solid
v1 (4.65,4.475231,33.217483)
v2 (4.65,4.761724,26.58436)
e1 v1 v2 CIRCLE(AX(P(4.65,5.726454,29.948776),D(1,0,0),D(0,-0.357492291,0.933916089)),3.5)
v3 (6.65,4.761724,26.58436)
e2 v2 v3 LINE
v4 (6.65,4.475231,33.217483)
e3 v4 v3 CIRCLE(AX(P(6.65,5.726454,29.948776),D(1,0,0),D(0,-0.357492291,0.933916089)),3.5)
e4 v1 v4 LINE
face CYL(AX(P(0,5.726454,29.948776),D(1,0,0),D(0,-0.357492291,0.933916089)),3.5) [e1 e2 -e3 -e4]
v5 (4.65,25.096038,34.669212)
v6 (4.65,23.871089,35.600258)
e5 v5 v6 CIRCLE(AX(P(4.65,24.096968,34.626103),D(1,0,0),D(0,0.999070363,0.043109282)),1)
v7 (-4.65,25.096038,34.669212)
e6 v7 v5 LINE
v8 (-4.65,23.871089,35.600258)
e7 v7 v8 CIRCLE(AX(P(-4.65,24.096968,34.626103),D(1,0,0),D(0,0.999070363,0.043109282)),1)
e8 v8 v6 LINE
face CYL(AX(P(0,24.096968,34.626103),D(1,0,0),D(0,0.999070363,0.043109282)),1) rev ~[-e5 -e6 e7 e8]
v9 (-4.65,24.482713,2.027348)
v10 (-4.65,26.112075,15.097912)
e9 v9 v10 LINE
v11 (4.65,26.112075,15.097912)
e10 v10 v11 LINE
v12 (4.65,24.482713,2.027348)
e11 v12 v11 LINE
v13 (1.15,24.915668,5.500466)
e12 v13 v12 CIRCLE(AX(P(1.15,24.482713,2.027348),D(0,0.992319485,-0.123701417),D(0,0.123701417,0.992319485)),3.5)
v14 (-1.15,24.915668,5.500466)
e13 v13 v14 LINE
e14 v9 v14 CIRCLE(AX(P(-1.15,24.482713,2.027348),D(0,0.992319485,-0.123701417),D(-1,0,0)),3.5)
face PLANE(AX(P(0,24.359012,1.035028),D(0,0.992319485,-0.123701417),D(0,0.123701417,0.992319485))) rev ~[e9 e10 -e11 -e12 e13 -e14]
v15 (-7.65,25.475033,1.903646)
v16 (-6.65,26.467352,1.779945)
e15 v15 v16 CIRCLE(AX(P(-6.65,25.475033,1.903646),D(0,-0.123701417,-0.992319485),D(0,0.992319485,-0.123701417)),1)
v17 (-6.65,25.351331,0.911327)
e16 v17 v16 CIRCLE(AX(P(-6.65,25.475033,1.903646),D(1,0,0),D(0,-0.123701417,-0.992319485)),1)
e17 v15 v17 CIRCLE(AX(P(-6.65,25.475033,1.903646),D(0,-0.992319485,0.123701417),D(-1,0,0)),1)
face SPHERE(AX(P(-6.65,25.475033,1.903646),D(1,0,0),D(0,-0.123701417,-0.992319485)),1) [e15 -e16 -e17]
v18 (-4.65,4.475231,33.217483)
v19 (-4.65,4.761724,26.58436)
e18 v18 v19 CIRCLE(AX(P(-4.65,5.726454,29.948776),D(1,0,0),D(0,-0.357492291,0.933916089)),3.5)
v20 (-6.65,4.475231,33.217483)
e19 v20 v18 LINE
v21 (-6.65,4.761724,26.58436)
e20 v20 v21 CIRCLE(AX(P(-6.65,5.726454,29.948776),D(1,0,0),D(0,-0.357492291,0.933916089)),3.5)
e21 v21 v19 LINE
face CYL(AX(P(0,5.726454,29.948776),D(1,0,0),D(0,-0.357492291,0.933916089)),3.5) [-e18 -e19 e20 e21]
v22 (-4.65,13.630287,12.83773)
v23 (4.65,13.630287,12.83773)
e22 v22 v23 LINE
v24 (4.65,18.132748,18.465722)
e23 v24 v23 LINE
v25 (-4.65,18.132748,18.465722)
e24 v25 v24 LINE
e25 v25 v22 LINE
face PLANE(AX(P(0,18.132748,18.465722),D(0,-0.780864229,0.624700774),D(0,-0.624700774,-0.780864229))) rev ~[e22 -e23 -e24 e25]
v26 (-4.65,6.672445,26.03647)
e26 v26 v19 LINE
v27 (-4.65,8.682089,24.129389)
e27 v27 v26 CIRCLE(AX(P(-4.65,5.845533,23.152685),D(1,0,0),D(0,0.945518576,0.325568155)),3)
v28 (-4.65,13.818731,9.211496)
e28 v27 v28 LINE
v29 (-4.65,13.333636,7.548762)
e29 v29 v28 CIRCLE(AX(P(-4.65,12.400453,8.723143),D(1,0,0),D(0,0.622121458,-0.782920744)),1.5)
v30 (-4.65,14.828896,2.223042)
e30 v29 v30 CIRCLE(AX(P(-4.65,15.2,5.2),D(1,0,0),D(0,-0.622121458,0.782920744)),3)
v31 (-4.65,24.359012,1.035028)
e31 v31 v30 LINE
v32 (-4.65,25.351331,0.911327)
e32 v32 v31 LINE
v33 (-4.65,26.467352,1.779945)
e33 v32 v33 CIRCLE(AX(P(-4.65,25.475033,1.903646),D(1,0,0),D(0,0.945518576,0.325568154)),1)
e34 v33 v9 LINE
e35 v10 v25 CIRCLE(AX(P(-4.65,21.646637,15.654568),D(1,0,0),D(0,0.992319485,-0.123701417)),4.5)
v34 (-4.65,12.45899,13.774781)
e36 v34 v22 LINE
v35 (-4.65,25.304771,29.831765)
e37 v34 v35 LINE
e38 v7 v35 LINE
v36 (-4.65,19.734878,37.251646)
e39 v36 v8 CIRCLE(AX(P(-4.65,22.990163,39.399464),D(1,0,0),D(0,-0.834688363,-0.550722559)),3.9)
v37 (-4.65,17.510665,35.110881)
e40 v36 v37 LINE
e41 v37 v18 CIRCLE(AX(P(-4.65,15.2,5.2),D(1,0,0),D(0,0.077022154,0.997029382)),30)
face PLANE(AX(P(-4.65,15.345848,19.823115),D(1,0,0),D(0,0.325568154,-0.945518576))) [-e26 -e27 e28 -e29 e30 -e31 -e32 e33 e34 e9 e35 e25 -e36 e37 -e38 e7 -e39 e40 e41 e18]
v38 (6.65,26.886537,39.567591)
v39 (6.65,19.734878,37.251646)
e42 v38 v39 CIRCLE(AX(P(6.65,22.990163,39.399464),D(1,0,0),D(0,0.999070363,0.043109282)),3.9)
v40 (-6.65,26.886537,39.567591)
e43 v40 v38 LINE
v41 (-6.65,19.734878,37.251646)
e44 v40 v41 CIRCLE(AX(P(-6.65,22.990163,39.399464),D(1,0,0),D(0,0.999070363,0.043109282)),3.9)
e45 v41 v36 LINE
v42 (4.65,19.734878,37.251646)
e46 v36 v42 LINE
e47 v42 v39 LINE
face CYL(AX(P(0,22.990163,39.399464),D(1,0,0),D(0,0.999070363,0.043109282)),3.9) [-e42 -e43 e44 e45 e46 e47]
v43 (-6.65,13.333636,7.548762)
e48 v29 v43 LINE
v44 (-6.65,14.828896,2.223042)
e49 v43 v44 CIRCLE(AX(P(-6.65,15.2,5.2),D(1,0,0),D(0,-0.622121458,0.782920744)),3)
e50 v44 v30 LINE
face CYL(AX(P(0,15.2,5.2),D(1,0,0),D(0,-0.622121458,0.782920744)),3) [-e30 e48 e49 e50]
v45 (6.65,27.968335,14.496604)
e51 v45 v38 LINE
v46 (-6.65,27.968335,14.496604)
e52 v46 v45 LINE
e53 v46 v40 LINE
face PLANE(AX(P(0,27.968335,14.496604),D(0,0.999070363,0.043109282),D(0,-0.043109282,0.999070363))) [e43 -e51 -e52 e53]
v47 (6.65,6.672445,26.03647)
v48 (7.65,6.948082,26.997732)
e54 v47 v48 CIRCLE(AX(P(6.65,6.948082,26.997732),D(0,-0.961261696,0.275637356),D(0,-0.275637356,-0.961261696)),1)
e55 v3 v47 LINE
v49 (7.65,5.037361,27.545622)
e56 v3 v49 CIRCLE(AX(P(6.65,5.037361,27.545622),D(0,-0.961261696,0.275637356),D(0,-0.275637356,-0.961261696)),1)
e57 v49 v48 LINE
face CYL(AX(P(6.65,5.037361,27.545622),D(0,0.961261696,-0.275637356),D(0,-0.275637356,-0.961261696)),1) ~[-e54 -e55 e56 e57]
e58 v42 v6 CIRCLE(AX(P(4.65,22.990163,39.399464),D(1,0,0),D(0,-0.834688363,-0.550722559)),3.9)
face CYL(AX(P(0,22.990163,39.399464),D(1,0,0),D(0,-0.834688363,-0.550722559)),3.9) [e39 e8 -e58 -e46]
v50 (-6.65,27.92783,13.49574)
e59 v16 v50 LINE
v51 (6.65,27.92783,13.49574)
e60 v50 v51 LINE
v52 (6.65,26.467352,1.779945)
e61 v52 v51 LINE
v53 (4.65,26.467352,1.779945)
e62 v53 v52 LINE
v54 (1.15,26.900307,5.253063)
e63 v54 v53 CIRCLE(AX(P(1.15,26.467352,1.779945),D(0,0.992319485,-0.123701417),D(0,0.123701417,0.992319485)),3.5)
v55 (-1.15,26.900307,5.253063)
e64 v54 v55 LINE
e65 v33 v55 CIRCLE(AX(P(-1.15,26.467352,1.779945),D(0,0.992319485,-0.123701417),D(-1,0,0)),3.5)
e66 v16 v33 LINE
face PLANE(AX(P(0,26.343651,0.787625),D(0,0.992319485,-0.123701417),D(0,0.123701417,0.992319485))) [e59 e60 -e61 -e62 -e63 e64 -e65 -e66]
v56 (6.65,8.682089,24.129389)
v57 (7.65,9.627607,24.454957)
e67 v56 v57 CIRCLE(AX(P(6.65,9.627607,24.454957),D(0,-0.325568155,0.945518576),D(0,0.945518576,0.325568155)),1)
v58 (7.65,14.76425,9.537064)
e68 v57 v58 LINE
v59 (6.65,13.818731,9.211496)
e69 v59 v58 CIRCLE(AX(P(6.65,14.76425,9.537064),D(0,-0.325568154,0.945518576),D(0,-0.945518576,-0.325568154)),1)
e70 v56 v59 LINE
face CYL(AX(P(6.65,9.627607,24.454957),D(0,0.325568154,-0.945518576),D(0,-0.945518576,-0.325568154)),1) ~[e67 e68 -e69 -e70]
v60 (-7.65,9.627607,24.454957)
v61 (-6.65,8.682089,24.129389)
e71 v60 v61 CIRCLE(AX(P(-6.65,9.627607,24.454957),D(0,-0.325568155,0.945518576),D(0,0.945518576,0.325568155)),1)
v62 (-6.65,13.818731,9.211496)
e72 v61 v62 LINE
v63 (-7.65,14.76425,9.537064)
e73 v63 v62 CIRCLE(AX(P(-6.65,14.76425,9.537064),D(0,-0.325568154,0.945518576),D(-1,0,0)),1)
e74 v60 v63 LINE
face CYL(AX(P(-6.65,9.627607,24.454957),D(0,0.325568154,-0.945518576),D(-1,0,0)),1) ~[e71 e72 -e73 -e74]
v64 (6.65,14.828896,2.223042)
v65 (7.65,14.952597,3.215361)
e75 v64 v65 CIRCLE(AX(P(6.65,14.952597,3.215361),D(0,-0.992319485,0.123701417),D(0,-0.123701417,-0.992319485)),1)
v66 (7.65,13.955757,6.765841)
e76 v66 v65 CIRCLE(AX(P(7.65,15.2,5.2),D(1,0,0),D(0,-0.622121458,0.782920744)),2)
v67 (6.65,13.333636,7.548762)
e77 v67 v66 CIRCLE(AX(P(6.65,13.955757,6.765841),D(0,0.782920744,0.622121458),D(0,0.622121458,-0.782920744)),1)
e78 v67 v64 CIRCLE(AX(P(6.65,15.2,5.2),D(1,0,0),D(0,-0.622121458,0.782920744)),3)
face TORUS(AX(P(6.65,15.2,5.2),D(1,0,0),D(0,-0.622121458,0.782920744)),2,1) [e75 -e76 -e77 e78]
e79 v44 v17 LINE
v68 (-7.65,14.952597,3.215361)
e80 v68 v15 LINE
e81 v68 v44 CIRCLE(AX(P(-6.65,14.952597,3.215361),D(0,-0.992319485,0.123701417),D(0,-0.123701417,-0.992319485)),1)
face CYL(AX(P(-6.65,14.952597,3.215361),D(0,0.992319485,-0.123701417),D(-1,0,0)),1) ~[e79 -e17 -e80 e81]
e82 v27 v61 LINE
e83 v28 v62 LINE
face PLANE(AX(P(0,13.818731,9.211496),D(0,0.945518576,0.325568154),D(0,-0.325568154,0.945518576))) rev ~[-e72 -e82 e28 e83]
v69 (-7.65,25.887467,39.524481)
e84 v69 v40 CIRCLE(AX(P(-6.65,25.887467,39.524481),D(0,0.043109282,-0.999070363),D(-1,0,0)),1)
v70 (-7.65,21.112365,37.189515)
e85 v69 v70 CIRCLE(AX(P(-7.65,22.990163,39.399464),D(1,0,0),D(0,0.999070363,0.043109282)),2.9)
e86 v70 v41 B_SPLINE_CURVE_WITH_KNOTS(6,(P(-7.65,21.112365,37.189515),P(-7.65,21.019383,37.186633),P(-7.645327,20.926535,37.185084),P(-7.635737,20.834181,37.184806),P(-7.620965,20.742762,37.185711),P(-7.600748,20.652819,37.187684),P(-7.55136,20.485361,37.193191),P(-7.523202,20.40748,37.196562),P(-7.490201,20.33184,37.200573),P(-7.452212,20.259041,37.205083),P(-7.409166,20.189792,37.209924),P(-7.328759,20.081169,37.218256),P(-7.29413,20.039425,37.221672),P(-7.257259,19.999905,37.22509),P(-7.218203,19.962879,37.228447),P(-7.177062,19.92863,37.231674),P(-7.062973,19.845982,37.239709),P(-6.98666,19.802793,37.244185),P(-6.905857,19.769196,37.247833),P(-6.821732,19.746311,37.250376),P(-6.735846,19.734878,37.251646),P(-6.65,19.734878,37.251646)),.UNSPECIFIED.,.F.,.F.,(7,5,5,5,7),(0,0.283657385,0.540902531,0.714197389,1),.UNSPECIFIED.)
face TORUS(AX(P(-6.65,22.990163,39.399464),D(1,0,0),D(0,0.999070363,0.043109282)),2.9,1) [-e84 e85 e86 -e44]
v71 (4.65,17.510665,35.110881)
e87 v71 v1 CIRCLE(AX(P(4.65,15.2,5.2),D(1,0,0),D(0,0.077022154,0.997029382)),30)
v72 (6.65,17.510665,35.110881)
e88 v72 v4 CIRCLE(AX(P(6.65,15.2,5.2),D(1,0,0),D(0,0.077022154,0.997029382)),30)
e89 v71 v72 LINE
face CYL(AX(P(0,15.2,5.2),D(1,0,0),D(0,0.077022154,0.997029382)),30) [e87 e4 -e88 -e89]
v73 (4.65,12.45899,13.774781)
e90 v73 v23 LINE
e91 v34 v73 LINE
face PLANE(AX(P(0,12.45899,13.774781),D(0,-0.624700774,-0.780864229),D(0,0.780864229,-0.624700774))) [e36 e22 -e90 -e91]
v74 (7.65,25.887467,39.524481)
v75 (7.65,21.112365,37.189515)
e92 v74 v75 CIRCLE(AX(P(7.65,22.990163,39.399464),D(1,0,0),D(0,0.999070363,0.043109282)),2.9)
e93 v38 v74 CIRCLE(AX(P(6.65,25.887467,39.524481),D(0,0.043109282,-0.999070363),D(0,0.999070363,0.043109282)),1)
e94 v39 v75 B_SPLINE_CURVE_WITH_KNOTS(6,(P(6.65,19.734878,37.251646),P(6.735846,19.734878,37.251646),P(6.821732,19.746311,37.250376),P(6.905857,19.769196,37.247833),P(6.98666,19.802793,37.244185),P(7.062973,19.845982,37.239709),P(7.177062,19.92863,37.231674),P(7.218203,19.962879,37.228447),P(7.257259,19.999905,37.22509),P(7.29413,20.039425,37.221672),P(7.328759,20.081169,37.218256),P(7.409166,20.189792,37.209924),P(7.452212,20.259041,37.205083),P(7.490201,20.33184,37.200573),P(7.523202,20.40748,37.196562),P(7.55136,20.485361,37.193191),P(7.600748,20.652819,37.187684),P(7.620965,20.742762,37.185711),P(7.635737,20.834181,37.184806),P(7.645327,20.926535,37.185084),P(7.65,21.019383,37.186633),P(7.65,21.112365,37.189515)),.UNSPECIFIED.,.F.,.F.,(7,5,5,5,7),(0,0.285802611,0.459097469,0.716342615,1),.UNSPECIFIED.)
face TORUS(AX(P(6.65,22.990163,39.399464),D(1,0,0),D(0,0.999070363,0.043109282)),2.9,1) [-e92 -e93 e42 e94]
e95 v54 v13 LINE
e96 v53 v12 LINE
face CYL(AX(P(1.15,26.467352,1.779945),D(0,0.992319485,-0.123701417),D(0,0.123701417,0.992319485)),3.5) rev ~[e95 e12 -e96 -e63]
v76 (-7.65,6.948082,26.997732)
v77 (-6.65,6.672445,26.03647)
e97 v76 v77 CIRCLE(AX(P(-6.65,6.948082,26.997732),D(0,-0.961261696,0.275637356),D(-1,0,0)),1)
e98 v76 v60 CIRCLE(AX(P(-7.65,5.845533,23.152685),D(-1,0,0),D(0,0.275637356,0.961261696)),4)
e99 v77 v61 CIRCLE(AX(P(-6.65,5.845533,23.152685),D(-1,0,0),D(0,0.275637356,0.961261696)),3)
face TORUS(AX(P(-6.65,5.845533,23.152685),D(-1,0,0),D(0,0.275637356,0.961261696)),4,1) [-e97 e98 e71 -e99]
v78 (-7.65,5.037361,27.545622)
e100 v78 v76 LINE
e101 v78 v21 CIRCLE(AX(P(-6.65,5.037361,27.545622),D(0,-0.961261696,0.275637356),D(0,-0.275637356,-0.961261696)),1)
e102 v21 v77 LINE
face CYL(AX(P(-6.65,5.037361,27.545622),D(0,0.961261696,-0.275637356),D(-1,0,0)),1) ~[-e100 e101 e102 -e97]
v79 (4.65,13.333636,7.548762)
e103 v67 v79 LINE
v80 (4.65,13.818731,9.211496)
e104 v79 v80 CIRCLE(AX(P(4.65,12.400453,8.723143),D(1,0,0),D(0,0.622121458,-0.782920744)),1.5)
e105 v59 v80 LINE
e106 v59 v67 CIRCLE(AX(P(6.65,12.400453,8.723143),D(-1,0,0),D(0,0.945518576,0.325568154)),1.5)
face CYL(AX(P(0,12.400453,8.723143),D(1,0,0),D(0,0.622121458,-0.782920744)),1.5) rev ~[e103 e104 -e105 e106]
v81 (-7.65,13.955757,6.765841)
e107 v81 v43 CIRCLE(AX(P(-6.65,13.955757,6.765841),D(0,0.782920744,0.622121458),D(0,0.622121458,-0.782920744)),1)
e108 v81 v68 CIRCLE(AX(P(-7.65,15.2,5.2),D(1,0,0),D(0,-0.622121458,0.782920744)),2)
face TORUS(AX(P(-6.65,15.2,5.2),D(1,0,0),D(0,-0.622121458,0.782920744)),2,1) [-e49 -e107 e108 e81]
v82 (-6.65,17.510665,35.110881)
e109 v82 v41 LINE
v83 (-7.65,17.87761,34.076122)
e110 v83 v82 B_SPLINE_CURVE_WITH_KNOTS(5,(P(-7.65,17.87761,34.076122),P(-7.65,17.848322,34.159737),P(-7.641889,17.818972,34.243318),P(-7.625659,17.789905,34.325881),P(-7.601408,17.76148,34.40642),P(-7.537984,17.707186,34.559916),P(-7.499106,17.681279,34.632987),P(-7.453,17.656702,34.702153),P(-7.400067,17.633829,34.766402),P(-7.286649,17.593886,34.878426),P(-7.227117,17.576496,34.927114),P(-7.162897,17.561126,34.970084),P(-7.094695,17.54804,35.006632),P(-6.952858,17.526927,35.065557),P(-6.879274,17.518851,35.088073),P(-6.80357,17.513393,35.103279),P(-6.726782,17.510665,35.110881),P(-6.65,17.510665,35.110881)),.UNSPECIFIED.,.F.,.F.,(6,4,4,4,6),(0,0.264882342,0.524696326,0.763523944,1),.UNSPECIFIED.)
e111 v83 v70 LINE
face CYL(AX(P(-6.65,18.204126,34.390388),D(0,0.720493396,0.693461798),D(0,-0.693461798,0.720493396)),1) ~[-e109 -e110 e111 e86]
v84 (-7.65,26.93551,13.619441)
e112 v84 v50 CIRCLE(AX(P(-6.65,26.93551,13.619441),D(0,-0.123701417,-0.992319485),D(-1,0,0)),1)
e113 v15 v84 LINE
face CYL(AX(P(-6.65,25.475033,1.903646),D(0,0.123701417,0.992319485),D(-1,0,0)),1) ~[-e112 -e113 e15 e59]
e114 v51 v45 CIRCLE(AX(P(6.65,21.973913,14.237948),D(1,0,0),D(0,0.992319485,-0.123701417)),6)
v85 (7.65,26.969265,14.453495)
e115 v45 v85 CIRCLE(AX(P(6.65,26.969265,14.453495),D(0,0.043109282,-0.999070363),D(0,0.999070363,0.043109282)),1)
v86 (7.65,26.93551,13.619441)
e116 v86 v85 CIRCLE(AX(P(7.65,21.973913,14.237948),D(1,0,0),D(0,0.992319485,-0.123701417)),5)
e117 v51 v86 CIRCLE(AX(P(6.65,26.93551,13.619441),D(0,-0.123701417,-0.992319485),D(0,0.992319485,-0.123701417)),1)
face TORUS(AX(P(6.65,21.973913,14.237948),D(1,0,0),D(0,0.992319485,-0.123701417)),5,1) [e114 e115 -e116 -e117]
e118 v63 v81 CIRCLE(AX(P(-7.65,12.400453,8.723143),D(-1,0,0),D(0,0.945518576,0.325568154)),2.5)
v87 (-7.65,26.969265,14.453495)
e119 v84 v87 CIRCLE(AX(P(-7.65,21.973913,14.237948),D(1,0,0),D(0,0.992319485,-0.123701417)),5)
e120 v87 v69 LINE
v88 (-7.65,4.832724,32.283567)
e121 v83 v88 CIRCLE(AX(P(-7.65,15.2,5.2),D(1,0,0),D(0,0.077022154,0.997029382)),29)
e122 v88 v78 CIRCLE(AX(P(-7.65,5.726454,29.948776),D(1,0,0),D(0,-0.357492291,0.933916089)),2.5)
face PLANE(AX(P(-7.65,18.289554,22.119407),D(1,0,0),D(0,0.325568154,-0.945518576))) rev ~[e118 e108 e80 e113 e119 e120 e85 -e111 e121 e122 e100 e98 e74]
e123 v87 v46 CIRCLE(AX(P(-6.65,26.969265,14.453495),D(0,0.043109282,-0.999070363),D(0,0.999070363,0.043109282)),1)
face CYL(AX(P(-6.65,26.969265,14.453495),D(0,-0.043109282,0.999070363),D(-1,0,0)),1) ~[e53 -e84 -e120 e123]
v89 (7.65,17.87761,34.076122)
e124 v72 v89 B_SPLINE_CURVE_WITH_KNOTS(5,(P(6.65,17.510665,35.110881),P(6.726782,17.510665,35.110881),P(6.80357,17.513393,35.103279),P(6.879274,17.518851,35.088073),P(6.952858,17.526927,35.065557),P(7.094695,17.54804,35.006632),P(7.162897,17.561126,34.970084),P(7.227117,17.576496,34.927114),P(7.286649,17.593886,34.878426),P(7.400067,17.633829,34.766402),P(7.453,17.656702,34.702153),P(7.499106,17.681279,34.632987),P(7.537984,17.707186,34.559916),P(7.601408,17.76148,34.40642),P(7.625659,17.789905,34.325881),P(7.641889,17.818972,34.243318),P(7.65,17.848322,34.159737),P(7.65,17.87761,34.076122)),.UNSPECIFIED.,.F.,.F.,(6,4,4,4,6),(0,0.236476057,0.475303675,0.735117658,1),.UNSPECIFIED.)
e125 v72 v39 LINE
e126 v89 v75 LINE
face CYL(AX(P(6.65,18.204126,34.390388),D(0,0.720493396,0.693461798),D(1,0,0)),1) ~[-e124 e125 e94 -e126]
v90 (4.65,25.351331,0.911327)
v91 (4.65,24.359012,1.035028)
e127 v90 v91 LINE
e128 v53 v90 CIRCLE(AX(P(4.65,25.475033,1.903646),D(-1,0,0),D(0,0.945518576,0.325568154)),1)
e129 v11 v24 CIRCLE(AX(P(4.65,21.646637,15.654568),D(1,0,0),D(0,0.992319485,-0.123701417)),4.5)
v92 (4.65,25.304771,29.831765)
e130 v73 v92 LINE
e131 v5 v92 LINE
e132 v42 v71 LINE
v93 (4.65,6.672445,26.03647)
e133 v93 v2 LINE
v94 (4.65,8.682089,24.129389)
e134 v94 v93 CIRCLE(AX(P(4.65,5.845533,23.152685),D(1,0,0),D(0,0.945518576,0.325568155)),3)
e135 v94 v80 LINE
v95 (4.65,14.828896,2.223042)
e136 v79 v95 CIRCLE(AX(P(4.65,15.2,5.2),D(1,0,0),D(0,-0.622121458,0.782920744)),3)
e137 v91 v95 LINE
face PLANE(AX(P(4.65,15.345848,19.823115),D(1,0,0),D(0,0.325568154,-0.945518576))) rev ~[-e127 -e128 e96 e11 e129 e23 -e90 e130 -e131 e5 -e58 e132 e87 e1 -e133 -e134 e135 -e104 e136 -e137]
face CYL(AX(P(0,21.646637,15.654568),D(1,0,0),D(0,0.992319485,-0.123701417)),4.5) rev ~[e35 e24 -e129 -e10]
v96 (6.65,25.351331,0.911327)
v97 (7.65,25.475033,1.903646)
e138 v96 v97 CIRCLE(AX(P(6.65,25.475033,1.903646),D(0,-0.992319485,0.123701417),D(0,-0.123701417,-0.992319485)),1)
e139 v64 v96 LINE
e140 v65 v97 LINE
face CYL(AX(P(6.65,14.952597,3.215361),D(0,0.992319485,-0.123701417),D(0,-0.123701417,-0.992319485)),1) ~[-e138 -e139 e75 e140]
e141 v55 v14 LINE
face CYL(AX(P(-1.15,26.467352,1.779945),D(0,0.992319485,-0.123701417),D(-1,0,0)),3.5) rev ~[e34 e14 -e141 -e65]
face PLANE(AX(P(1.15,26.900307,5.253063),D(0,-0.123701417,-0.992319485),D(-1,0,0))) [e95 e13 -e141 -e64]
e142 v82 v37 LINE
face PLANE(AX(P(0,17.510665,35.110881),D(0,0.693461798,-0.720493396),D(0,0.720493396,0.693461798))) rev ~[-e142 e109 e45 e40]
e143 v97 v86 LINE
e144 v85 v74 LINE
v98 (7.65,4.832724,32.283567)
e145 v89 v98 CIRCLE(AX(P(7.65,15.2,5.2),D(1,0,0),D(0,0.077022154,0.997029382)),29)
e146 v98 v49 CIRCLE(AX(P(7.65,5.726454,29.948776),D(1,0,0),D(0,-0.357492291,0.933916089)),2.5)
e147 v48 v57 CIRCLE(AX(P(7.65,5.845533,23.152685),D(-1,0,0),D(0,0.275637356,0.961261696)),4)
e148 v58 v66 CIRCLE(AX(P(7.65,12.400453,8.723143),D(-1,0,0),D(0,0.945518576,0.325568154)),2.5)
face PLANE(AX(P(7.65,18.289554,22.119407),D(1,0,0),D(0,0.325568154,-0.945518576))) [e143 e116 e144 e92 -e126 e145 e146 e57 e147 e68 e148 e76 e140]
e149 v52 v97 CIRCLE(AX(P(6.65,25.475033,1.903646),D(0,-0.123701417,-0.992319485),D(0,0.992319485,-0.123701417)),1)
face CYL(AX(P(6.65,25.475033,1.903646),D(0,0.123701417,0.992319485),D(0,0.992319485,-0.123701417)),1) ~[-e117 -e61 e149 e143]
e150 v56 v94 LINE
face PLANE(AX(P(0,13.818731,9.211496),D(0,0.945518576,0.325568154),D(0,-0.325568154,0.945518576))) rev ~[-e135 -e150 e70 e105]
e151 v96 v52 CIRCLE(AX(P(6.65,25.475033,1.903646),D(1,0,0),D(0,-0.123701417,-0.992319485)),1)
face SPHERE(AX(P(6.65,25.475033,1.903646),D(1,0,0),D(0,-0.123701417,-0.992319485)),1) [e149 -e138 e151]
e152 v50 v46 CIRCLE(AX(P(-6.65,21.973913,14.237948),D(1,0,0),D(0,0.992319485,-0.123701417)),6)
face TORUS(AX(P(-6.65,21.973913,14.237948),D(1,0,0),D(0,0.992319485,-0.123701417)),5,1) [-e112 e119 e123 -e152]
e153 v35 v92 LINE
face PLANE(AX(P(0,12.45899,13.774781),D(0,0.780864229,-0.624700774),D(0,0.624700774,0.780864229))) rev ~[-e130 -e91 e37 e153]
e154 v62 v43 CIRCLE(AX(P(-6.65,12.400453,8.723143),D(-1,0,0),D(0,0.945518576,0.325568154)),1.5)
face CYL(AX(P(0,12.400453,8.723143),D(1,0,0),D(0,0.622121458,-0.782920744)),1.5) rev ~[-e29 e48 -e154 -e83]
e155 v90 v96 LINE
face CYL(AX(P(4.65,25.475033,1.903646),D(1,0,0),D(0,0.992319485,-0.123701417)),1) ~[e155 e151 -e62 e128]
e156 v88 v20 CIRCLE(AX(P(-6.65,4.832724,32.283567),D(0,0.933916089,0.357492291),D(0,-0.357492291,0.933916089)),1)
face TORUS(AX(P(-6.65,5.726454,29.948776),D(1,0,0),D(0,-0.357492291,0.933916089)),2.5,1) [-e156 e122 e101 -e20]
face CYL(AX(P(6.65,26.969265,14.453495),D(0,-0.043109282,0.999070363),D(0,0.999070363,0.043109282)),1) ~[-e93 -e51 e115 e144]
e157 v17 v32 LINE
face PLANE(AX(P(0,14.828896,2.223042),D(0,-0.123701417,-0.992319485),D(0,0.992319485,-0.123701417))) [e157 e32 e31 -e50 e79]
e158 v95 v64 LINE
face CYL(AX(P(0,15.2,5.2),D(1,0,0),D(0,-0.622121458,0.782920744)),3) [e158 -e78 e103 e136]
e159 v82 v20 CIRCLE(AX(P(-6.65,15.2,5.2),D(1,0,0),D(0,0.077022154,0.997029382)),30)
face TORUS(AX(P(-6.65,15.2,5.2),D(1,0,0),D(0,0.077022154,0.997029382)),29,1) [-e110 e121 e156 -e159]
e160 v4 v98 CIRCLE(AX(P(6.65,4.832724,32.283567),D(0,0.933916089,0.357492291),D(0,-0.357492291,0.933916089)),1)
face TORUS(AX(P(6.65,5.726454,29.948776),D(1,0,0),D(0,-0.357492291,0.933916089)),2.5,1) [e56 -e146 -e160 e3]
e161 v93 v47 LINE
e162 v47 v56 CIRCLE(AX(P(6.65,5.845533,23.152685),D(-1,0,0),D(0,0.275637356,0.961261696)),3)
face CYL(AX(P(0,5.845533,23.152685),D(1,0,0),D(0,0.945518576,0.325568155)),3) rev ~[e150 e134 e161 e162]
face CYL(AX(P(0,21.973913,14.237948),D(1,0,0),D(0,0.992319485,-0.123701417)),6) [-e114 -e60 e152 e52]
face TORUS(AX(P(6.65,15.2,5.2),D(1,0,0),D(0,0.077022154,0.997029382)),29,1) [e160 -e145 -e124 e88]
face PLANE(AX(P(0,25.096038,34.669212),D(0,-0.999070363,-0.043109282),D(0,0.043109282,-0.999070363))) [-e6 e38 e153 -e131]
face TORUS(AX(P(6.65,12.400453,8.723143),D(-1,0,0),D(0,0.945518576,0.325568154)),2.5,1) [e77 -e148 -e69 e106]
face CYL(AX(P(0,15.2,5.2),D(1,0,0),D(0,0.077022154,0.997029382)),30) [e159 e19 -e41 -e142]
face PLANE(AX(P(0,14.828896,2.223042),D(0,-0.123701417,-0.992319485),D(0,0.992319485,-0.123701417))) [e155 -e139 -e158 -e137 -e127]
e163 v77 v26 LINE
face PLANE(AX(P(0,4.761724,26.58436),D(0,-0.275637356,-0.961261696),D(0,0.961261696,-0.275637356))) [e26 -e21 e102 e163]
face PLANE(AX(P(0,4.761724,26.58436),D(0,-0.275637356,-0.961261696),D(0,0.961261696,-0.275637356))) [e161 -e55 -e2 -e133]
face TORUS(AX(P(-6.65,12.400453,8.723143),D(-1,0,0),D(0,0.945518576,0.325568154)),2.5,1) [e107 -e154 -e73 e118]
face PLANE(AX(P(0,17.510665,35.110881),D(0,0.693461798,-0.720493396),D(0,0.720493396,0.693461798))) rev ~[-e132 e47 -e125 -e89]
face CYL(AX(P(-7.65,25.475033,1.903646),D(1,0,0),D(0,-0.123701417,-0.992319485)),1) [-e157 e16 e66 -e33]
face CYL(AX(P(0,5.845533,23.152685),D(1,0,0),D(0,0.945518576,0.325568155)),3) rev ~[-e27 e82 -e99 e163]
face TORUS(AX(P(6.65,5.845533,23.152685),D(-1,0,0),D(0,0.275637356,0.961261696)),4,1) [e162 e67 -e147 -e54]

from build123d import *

# Parameters (mm, degrees)
PAD004_DEPTH            = 7.65
POCKET003_DEPTH         = 4.65
POCKET004_DEPTH         = 2
FILLET007_R             = 1
FILLET008_R             = 1
BODY003_PLACEMENT_ANGLE = 289


with BuildPart() as part:
    # Sketch009 → Pad004 (new body, symmetric)
    with BuildSketch(Plane.YZ):
        with BuildLine():
            ThreePointArc((-2.8284271247, -1), (-0.1735950846, -2.9949732464), (2.6939497909, -1.3200888318))
            Line((2.6939497909, -1.3200888318), (7.8, 9.1))
            Line((7.8, 9.1), (-3.7, 14.7352281014))
            ThreePointArc((-3.7, 14.7352281014), (-4.158961759, 14.9368094594), (-4.6331484619, 15.0993760945))
            Line((-4.6331484619, 15.0993760945), (-28.6904310189, 22.2388309237))
            ThreePointArc((-28.6904310189, 22.2388309237), (-33.6993372116, 18.5718979166), (-28.8290152057, 14.7228067922))
            Line((-27.5290152057, 11.9228067922), (-28.8290152057, 14.7228067922))
            ThreePointArc((-27.5290152057, 11.9228067922), (-29.4749197629, 5.5883007232), (-29.9826934773, -1.0188679245))
            ThreePointArc((-29.9826934773, -1.0188679245), (-27.4803397166, -4.255402597), (-23.6176804166, -2.9075175272))
            Line((-23.6176804166, -2.9075175272), (-22.4775697078, -1.2792706909))
            ThreePointArc((-20.0201135749, 0), (-21.4053594146, -0.3389675005), (-22.4775697078, -1.2792706909))
            Line((-4.2426406871, 0), (-20.0201135749, 0))
            ThreePointArc((-2.8284271247, -1), (-3.3766152833, -0.2752551286), (-4.2426406871, 0))
        make_face()
    extrude(amount=PAD004_DEPTH, both=True)

    # Sketch010 → Pocket003 (cut, symmetric)
    with BuildSketch(Plane.YZ):
        with BuildLine():
            Line((6.9199407788, 7.3040334727), (-5.8060355253, 13.5400142802))
            ThreePointArc((-5.8060355253, 13.5400142802), (-11.1364622888, 12.5033421393), (-11.5881769744, 7.0918642957))
            Line((-11.5881769744, 7.0918642957), (-7.7326639328, 1.0024084327))
            Line((-9, 0.2), (-7.7326639328, 1.0024084327))
            Line((-9, 0.2), (-20, 17.5735670895))
            Line((-24.6418524264, 18.9511248267), (-20, 17.5735670895))
            ThreePointArc((-24.6418524264, 18.9511248267), (-25.4821110434, 18.8237971917), (-25.9209782539, 18.0960318164))
            ThreePointArc((-28.8290152057, 14.7228067922), (-26.8461376765, 15.9534931036), (-25.9209782539, 18.0960318164))
            Line((-28.8290152057, 14.7228067922), (-34.6400816793, 13.2289840317))
            Line((-34.6400816793, 13.2289840317), (-31.0800592212, -4.6959665273))
            Line((-31.0800592212, -4.6959665273), (6.9199407788, -4.6959665273))
            Line((6.9199407788, -4.6959665273), (6.9199407788, 7.3040334727))
        make_face()
    extrude(amount=POCKET003_DEPTH, both=True, mode=Mode.SUBTRACT)

    # Sketch011 (on Face6 of Pocket003) → Pocket004 (cut)
    with BuildSketch(Plane(origin=(0, 5.1060502091, 10.4200888318), x_dir=(0, -0.8979832636, 0.4400296106), z_dir=(0, 0.4400296106, 0.8979832636))):
        with BuildLine():
            Line((-3, 4.65), (-2, 4.65))
            ThreePointArc((1.5, 1.15), (0.4748737342, 3.6248737342), (-2, 4.65))
            Line((1.5, 1.15), (1.5, -1.15))
            ThreePointArc((-2, -4.65), (0.4748737342, -3.6248737342), (1.5, -1.15))
            Line((-2, -4.65), (-3, -4.65))
            Line((-3, -4.65), (-3, 4.65))
        make_face()
    extrude(amount=-POCKET004_DEPTH, mode=Mode.SUBTRACT)

    # Fillet007
    fillet007_edges = [part.edges().sort_by_distance(p)[0] for p in [
        (-6.15, 7.8, 9.1),
        (6.15, 7.8, 9.1),
    ]]
    fillet(fillet007_edges, radius=FILLET007_R)

    # Fillet008
    fillet008_edges = [part.edges().sort_by_distance(p)[0] for p in [
        (7.65, -16.66179, 18.669104),
        (-7.65, -16.66179, 18.669104),
        (-7.65, -28.179015, 13.322807),
        (7.65, -28.179015, 13.322807),
    ]]
    fillet(fillet008_edges, radius=FILLET008_R)


with BuildPart() as part_1:
    # Body003 placement: moved
    add(part.part.moved(Location((0, 15.2, 5.2))).rotate(Axis((0, 15.2, 5.2), (1, 0, 0)), BODY003_PLACEMENT_ANGLE))


solid = part_1.part
